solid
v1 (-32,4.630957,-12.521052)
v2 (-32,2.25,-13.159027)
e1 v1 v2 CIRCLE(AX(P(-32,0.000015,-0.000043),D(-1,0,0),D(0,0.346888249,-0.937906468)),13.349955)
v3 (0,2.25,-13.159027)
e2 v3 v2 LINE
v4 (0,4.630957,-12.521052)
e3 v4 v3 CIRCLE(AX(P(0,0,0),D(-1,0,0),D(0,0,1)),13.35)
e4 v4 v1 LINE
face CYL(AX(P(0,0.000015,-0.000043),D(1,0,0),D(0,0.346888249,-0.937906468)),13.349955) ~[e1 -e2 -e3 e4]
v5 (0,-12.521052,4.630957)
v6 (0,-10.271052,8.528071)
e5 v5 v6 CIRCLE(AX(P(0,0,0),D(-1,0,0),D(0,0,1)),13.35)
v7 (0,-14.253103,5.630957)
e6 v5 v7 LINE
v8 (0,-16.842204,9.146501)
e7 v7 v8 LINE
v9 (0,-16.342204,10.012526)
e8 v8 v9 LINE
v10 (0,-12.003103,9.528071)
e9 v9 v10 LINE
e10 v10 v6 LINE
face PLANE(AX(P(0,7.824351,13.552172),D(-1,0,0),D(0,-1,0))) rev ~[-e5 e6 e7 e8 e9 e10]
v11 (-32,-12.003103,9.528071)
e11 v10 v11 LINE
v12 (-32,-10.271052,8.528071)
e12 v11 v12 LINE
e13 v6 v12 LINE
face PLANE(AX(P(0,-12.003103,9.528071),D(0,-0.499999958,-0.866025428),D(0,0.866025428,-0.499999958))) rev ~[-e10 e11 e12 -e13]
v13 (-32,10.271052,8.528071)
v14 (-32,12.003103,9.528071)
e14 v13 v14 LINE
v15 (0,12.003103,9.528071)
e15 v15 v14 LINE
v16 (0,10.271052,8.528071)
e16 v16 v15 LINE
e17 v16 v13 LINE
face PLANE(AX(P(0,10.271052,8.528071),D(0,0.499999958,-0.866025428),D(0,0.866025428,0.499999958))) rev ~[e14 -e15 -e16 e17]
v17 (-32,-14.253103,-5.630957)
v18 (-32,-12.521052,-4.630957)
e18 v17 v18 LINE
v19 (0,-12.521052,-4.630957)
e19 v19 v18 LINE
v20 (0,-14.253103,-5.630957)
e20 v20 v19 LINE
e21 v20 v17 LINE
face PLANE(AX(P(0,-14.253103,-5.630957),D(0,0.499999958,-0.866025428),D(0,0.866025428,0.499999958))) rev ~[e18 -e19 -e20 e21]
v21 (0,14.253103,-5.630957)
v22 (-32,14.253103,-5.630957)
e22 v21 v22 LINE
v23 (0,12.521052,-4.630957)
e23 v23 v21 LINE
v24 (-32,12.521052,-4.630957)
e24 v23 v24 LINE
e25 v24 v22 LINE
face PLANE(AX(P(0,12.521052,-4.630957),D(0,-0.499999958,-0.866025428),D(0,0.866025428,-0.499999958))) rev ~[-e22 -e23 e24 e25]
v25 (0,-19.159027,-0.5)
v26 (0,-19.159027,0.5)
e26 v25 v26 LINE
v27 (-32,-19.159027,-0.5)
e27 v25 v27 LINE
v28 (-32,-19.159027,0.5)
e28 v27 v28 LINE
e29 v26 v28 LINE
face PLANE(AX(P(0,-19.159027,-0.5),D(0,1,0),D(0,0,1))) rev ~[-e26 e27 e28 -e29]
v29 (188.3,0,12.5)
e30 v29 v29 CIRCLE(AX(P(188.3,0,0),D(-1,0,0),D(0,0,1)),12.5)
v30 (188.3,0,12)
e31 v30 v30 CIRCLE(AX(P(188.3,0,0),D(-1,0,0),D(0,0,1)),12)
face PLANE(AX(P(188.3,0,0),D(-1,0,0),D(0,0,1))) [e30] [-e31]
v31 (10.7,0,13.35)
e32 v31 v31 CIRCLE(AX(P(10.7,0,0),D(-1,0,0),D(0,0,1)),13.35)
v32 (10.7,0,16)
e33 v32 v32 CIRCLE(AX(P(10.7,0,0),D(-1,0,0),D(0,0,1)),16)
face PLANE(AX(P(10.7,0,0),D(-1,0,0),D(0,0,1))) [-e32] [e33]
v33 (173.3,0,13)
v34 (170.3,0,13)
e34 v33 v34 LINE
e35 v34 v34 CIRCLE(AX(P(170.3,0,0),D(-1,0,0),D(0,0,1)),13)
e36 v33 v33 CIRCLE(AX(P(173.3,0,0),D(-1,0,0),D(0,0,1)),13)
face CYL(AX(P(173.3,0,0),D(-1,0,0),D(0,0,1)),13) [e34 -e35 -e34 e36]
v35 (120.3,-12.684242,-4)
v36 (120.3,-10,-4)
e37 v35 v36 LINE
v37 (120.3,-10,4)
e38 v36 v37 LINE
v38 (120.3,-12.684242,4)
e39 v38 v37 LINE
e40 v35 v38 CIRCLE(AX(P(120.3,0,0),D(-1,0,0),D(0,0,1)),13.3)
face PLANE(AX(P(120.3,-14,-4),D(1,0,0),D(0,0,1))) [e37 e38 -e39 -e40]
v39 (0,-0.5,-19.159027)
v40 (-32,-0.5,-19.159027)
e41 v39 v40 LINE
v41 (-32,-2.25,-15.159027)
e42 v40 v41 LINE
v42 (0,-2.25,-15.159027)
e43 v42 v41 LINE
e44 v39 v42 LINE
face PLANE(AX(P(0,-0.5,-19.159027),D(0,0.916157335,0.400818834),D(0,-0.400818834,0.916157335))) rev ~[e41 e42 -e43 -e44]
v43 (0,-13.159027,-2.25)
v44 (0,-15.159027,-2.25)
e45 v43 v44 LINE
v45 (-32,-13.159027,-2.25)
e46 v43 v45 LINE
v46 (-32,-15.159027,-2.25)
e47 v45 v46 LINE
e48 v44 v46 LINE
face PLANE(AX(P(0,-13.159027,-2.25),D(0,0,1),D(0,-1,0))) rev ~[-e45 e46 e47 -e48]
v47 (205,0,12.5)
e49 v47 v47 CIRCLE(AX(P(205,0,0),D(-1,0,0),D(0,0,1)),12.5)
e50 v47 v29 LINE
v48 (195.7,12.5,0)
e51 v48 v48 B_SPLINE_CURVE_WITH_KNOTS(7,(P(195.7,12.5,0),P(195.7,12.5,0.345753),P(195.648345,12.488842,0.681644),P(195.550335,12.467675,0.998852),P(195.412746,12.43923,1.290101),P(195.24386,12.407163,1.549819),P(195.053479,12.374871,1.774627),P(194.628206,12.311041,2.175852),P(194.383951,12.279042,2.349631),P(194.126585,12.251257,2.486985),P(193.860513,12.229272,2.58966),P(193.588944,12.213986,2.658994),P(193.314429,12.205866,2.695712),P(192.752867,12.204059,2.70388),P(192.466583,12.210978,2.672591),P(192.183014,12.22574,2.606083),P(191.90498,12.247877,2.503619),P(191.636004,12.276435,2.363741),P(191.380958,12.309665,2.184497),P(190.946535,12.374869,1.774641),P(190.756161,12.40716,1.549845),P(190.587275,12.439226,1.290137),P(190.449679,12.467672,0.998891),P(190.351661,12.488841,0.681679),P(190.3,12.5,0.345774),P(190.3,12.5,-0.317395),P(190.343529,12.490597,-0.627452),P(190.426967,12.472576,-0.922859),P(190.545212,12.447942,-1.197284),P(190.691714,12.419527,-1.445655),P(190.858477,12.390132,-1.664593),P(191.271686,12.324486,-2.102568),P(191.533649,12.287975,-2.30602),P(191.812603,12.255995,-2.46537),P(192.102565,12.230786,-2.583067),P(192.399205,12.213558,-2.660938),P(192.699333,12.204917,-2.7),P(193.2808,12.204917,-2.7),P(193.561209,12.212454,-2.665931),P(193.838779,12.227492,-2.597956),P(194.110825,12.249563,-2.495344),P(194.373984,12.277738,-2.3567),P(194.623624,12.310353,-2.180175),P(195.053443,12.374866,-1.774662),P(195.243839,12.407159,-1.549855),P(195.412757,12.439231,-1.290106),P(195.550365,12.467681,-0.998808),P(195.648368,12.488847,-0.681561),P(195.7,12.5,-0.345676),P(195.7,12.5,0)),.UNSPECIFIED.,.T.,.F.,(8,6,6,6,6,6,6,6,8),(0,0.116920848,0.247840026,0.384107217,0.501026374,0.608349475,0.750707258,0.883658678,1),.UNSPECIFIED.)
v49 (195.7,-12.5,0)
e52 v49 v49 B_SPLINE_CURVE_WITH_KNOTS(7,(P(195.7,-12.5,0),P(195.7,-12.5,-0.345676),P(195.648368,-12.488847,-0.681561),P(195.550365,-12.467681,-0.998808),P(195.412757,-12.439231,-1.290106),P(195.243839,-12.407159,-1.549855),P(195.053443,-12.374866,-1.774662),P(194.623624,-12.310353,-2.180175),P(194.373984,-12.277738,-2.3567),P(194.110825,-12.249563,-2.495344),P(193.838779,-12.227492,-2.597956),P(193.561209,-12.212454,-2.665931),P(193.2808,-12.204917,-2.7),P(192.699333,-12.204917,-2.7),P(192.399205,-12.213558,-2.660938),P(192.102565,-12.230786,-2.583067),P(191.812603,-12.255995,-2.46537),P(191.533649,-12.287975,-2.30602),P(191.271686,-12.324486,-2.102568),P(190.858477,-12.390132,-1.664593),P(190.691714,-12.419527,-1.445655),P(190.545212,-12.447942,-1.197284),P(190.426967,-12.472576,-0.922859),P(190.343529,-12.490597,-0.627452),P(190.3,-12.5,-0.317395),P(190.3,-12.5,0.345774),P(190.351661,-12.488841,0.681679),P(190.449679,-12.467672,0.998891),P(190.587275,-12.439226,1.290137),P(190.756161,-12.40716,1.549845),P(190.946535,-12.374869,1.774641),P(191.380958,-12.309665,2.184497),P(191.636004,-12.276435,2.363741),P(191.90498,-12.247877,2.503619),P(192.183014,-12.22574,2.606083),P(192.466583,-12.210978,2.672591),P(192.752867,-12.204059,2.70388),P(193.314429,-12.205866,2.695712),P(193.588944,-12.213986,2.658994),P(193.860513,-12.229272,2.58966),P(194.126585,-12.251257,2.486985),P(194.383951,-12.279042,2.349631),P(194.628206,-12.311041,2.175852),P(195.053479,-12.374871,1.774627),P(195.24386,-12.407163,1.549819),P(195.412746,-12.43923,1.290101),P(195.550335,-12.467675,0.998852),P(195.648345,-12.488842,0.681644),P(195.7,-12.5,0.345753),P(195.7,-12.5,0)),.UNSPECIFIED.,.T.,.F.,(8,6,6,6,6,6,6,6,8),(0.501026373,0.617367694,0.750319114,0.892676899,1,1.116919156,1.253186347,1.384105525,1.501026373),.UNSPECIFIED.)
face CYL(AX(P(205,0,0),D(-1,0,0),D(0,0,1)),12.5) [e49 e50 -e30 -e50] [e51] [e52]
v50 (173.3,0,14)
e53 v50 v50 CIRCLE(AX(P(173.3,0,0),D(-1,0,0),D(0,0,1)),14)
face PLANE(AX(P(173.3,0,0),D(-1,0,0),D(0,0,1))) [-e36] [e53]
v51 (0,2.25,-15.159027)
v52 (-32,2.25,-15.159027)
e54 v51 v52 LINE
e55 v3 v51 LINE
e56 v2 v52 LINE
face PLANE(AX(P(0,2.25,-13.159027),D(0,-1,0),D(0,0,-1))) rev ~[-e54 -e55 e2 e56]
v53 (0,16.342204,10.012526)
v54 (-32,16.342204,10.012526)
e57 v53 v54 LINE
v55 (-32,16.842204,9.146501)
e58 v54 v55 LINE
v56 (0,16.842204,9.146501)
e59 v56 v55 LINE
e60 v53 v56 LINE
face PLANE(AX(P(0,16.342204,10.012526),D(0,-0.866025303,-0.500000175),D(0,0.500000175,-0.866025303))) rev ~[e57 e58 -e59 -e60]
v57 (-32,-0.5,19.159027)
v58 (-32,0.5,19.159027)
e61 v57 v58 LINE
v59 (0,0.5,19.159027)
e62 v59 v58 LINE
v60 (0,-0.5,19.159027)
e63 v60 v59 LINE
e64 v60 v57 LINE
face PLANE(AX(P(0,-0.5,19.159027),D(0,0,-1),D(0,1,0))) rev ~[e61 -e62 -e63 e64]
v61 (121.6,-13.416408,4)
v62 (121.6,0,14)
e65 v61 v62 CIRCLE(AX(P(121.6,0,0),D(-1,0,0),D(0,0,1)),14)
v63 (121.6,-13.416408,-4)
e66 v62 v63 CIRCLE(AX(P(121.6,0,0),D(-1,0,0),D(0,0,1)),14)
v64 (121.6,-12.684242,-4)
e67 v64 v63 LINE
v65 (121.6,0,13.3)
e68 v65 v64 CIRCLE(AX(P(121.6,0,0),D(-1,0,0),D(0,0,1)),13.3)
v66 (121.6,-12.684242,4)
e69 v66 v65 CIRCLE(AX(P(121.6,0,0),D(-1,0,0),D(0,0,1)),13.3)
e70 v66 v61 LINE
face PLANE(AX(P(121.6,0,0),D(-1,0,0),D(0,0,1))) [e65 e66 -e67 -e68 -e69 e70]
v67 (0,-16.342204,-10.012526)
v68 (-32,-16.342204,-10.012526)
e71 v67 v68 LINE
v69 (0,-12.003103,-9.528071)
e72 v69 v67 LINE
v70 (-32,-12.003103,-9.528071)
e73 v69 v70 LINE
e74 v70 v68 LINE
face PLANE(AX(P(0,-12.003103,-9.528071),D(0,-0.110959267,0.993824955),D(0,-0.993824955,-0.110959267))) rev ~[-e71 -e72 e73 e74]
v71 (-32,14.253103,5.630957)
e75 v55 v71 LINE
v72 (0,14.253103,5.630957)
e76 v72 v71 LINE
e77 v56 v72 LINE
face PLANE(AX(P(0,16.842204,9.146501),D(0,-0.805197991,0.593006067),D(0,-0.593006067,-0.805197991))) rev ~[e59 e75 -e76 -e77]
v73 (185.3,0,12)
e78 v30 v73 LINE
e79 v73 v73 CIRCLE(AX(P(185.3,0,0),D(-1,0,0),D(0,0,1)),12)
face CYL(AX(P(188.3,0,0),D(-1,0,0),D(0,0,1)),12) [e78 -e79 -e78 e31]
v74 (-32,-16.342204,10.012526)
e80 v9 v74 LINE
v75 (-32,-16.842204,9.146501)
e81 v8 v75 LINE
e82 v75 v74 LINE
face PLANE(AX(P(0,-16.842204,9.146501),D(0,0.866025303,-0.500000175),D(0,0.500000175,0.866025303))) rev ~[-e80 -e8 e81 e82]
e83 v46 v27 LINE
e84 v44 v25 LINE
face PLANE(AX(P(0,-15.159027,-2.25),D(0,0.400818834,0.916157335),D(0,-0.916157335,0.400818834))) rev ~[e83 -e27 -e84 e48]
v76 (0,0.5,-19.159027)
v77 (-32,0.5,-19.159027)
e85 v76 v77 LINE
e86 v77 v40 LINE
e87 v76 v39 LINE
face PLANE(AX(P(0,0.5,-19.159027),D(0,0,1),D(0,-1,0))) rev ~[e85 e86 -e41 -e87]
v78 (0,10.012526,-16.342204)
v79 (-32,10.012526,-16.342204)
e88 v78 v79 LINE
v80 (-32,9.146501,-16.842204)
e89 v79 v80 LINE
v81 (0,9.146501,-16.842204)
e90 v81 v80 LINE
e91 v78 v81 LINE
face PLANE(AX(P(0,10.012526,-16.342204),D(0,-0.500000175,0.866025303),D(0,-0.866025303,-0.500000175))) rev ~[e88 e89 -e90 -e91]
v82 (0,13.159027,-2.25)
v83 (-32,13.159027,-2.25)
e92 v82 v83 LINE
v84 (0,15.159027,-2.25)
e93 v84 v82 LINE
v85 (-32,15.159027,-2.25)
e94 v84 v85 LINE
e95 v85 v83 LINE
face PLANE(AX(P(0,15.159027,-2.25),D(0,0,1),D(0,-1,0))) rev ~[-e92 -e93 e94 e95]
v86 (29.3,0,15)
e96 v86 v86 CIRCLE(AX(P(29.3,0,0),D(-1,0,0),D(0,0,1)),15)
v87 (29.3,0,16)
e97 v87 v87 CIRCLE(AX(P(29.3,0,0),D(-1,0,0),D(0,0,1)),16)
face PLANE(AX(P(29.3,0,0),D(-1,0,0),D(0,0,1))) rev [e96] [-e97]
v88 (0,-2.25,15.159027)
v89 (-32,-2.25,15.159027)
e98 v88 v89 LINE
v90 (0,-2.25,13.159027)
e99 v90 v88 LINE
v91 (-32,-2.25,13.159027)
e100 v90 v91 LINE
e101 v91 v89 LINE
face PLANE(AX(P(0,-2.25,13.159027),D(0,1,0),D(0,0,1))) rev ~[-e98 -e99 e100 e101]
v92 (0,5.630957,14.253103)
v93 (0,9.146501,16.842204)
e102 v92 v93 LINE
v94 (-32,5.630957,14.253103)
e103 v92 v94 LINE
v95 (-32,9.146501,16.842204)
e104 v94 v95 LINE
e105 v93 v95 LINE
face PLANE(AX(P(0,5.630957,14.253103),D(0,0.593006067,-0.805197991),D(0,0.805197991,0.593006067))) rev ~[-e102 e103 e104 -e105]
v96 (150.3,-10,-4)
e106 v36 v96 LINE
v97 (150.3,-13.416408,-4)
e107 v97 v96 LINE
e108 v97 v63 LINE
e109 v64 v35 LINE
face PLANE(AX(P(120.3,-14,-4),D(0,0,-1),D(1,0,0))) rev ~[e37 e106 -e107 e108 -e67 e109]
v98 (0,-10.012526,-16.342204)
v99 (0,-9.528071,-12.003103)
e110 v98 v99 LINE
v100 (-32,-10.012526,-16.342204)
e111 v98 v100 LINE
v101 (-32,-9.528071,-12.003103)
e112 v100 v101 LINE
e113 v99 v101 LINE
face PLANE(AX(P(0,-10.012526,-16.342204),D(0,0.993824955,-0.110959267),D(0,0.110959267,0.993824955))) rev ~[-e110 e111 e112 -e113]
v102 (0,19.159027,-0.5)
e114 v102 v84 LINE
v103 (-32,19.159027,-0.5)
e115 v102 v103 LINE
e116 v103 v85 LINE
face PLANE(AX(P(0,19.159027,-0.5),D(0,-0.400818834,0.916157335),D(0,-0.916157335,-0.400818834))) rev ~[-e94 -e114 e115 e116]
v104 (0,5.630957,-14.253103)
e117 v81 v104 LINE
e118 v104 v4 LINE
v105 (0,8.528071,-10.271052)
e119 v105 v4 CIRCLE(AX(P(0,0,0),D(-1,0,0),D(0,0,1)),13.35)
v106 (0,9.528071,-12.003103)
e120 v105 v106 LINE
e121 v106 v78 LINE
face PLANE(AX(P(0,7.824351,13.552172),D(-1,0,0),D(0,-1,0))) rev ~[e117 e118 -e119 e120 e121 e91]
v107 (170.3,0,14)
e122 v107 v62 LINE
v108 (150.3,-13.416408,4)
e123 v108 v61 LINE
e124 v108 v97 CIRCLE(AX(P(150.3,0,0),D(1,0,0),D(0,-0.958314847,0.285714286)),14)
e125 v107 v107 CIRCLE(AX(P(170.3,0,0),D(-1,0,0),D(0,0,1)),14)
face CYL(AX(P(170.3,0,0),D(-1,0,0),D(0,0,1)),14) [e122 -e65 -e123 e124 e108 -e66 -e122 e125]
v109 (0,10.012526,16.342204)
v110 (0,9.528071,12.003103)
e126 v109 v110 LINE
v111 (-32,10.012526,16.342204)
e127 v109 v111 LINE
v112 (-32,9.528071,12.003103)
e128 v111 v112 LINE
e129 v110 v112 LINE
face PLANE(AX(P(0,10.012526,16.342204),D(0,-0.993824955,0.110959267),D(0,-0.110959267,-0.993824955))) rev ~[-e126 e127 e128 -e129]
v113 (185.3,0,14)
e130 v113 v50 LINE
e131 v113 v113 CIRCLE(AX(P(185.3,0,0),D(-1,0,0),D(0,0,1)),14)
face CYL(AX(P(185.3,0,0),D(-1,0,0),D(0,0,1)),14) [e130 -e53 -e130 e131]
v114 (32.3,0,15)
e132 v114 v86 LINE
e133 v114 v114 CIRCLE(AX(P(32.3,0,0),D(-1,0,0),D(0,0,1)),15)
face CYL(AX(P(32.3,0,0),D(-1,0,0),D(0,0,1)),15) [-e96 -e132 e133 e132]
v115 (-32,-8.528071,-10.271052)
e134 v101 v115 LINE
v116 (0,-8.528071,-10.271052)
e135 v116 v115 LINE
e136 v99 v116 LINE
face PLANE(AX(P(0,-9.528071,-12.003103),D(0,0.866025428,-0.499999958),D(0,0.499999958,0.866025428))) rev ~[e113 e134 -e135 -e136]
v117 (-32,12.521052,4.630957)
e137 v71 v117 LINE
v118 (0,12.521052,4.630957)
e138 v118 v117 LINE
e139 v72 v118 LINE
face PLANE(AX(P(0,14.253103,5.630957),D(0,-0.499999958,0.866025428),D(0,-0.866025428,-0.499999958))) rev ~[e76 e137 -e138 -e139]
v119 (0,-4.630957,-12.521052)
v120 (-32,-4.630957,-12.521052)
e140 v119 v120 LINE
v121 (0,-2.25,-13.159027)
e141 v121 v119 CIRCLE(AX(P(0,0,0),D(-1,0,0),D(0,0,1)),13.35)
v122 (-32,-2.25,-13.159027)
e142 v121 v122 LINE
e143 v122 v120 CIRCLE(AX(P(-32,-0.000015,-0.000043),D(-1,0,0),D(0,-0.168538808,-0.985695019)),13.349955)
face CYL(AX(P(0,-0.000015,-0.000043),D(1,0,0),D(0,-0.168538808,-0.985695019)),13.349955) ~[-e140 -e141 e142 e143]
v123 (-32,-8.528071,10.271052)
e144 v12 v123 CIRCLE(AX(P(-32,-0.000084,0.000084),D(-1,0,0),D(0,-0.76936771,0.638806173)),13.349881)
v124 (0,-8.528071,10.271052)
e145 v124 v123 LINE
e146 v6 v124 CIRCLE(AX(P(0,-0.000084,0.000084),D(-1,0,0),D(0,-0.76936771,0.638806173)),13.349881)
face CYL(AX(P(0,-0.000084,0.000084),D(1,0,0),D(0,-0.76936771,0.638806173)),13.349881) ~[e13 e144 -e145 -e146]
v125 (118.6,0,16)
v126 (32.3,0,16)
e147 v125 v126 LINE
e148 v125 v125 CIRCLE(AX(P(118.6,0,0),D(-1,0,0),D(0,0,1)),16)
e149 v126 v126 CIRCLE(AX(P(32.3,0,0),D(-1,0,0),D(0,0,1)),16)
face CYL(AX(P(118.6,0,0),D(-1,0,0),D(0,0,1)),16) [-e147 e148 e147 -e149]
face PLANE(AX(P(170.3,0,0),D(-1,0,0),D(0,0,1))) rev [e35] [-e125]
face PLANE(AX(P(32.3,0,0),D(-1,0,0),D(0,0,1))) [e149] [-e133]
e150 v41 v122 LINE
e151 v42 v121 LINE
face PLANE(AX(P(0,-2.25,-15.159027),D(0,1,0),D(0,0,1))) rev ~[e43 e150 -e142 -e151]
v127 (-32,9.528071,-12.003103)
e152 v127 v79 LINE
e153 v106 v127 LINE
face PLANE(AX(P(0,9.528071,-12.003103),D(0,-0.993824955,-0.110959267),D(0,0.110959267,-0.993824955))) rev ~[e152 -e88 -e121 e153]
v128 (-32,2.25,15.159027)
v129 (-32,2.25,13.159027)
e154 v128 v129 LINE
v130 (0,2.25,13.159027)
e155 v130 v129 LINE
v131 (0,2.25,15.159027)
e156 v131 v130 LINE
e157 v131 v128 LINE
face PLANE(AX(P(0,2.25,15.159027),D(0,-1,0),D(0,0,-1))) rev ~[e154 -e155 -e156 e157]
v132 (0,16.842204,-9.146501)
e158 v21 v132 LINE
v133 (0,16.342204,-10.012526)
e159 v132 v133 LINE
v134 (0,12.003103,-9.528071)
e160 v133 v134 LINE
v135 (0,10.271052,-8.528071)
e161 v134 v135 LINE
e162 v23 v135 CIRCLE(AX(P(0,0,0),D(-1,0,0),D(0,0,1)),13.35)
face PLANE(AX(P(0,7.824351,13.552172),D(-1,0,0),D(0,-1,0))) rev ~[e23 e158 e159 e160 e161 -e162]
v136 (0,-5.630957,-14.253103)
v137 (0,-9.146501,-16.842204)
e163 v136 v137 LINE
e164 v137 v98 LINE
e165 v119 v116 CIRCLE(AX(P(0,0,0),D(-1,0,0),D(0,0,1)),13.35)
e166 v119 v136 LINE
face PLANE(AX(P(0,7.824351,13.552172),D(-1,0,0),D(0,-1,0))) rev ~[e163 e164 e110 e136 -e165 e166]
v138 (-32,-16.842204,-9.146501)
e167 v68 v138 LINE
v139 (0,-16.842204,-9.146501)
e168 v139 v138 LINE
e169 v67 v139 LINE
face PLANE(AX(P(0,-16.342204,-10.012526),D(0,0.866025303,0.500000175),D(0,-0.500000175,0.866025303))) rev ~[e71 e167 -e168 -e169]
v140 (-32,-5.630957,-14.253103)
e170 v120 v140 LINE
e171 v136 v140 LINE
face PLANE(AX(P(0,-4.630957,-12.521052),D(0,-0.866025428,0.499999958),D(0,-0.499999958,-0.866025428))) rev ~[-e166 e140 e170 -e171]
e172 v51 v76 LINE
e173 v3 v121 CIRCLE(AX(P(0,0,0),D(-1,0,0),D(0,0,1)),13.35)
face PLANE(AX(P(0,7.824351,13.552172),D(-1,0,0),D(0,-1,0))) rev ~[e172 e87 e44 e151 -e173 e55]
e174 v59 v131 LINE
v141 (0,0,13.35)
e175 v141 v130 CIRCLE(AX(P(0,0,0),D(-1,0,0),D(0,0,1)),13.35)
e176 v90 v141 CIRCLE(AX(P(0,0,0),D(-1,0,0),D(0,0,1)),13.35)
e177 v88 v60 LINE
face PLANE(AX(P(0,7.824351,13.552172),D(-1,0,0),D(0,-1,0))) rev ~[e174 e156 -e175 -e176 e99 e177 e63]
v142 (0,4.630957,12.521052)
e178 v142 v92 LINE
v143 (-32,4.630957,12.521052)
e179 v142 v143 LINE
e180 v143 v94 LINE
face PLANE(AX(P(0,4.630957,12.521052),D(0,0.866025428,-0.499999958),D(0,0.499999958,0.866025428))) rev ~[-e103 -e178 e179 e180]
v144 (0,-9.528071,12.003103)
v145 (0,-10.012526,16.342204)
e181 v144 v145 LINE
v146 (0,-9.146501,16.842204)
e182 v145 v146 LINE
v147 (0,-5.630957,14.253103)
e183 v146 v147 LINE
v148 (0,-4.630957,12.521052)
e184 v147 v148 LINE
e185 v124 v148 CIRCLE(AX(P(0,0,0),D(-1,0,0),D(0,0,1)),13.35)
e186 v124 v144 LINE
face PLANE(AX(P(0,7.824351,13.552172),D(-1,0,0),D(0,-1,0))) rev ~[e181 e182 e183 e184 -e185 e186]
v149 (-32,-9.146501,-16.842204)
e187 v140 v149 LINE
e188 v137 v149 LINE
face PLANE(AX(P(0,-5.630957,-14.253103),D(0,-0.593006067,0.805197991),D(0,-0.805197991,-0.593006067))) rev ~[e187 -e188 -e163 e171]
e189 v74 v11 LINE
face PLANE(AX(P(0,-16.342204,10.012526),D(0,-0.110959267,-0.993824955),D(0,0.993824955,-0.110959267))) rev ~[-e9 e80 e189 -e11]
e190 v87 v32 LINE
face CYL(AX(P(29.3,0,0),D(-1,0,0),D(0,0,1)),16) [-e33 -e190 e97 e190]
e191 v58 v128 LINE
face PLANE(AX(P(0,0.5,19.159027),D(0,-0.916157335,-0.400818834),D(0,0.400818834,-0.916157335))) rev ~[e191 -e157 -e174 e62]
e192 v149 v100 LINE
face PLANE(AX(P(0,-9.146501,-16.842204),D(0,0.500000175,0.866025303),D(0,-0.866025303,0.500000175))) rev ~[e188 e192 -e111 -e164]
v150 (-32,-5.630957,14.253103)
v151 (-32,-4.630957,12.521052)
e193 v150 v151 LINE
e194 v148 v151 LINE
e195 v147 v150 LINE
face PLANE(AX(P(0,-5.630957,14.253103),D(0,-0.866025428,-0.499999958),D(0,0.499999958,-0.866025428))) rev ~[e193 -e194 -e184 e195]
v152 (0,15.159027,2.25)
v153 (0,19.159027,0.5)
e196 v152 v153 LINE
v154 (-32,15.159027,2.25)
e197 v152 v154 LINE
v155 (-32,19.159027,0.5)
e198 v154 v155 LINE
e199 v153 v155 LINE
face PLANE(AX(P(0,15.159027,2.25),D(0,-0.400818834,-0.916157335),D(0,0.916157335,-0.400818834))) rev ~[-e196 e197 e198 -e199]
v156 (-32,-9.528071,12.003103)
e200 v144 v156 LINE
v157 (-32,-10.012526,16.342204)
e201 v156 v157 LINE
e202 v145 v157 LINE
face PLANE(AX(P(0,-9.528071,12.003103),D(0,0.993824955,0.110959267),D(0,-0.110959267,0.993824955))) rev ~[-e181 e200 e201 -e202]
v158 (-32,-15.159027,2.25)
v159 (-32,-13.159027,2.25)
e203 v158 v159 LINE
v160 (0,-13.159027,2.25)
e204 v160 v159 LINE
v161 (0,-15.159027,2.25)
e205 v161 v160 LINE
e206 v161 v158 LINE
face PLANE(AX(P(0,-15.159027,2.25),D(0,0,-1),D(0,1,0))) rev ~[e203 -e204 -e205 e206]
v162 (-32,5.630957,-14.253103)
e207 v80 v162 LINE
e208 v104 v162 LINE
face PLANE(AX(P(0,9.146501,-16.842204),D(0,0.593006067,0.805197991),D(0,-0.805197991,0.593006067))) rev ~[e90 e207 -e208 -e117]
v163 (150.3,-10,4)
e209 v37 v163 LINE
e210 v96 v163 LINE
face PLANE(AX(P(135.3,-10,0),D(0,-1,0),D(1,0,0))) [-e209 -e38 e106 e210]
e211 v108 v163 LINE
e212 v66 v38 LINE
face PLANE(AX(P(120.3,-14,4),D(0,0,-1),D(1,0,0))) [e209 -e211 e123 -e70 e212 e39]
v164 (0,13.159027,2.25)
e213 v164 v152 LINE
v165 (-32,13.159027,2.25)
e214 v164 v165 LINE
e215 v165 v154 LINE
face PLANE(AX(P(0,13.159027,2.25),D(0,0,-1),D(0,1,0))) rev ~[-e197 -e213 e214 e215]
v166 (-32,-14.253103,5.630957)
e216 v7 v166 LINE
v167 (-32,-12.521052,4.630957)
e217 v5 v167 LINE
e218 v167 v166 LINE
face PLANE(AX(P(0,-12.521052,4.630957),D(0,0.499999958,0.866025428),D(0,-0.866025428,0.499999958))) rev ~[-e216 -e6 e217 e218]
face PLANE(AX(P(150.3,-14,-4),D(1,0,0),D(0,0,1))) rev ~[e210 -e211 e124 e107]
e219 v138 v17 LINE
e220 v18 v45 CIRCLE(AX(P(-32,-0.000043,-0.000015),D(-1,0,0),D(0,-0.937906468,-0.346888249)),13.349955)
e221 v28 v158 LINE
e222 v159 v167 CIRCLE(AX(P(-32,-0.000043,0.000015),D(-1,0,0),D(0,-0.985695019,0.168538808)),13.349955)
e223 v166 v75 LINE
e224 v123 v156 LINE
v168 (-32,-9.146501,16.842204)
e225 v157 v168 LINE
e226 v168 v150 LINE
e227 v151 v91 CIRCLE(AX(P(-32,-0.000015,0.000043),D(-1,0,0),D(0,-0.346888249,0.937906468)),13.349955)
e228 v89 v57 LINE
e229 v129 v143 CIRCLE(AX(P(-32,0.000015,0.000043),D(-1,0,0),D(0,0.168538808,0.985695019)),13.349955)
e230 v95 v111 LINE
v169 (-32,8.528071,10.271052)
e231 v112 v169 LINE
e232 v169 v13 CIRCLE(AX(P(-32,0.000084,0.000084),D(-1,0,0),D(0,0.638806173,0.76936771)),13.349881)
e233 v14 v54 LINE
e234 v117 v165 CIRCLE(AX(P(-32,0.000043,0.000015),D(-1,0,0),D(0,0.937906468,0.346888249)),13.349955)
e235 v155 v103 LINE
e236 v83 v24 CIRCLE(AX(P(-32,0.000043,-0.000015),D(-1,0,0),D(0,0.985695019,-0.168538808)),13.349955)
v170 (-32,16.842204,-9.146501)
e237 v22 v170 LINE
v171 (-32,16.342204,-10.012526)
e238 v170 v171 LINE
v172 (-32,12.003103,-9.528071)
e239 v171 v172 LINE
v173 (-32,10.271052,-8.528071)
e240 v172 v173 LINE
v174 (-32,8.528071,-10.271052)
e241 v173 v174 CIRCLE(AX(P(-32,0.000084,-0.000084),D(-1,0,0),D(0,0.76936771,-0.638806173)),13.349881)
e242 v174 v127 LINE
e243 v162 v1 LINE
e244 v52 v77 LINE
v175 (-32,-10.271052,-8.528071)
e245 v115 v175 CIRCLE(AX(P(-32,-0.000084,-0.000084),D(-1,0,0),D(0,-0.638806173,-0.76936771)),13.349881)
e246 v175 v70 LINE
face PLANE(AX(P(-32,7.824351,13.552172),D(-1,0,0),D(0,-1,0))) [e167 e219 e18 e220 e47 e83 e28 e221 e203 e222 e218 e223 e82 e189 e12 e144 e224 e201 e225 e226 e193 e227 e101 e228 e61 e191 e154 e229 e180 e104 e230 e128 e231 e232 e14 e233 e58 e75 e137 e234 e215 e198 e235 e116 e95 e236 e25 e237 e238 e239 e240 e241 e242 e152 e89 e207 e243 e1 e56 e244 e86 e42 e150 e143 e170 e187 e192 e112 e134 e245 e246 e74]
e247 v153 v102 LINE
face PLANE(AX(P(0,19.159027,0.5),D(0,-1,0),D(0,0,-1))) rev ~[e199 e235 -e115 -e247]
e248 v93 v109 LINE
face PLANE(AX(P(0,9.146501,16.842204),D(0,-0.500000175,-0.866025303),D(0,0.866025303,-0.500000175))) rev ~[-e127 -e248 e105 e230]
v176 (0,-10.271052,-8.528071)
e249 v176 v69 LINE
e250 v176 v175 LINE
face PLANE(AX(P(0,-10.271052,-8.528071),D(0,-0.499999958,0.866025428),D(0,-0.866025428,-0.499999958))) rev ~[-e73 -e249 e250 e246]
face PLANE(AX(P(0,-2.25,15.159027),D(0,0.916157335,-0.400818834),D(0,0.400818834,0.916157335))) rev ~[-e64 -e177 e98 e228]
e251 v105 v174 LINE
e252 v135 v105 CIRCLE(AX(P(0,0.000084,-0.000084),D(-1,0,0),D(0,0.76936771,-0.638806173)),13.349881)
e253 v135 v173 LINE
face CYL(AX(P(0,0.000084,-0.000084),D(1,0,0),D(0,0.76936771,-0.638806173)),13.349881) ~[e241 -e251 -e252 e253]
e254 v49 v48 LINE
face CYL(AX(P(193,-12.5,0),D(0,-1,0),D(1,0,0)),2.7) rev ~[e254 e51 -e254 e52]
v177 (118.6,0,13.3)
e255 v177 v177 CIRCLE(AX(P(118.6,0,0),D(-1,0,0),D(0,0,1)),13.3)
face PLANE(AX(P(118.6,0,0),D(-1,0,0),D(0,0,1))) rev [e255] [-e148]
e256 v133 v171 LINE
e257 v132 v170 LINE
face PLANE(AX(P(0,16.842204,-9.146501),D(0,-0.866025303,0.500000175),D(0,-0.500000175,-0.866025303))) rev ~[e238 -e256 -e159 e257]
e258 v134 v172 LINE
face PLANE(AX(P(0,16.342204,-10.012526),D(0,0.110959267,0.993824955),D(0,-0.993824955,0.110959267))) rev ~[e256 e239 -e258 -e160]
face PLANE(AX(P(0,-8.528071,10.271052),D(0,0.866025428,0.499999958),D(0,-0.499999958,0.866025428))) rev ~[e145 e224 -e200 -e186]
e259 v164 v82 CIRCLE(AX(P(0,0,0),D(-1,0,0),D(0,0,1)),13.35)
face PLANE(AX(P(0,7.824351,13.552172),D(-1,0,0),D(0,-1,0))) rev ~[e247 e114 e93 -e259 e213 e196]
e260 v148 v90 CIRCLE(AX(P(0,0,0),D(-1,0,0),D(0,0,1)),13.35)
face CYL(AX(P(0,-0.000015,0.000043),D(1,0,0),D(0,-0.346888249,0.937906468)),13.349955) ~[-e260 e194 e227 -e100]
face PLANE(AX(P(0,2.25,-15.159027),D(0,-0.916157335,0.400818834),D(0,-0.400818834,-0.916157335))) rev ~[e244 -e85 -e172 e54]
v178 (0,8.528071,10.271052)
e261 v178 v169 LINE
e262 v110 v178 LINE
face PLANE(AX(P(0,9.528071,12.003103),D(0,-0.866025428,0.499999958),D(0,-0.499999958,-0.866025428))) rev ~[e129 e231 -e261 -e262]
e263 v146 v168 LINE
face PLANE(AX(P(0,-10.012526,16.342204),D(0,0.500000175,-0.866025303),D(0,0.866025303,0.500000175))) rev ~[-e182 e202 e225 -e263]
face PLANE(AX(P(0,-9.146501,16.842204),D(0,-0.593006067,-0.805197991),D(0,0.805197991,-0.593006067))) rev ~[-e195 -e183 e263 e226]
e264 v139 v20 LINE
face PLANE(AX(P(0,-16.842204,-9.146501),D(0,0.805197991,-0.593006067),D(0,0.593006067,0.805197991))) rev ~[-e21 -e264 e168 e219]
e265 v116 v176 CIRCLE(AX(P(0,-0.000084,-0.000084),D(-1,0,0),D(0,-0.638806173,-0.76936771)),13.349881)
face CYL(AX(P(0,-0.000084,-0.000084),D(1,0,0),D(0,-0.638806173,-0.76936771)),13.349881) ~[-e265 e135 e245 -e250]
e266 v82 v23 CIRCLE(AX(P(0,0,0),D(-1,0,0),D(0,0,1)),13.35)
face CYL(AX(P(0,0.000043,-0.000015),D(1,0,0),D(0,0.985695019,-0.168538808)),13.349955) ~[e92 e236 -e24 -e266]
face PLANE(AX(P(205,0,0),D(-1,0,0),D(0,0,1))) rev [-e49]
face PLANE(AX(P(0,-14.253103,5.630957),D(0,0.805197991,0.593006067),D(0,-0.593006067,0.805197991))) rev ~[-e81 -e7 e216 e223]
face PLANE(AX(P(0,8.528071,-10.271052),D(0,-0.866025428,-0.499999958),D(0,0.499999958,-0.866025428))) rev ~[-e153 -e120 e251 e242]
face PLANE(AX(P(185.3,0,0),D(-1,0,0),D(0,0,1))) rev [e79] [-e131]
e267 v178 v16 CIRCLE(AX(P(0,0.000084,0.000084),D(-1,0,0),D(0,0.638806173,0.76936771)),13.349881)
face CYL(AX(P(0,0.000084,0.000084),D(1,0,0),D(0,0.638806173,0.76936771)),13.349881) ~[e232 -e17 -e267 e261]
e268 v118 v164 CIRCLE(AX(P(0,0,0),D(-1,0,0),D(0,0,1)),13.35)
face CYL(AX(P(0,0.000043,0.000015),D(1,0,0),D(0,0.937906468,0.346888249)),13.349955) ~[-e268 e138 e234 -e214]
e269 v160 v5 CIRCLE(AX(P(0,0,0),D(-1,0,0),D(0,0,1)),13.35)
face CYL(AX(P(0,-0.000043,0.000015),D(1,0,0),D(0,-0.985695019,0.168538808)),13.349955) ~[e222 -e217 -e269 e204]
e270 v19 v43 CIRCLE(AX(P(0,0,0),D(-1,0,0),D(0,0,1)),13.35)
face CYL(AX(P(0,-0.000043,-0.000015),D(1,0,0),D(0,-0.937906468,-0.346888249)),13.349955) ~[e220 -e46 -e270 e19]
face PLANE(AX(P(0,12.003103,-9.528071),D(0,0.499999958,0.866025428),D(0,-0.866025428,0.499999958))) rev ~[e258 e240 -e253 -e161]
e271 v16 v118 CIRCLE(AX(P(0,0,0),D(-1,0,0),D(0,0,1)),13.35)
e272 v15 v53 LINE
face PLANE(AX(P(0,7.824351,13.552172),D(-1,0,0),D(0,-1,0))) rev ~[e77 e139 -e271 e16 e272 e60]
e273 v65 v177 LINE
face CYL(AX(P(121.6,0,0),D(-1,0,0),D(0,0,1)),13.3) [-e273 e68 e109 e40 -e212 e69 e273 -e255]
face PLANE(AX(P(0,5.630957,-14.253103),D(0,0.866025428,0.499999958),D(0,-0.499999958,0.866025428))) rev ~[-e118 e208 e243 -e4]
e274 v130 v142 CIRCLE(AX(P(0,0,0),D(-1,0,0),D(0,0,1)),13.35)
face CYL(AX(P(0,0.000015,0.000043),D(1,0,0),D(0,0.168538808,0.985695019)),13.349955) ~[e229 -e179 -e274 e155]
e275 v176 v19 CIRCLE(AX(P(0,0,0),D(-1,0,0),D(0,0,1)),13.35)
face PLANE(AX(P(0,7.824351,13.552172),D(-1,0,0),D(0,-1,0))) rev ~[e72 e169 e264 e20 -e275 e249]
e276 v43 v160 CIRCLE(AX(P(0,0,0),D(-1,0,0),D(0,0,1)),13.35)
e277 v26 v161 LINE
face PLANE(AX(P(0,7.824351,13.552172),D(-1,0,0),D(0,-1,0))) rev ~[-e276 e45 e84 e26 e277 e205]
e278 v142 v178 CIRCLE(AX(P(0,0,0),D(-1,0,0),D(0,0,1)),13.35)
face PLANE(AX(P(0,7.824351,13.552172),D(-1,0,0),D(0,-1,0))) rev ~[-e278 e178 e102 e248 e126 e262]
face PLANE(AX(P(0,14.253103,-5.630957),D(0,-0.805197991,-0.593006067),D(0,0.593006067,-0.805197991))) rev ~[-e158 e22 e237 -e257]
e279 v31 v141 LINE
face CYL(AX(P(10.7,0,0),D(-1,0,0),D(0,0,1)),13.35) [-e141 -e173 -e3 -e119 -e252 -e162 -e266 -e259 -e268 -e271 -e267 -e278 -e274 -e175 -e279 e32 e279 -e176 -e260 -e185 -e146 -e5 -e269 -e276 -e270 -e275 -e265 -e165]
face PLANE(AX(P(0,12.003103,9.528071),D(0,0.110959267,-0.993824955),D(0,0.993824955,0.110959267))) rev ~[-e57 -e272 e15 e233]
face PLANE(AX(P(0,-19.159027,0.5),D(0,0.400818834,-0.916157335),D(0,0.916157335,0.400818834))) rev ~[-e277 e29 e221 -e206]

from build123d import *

# Parameters (mm, degrees)
F3_DEPTH = 32
F7_W     = 30
F7_H     = 8
F8_DEPTH = 4
F5_R     = 2.7
F9_DEPTH = 25


with BuildPart() as f1:
    # F0 (on Front) → F1 (revolve)
    with BuildSketch(Plane.XZ):
        Polygon((29.3, 16), (10.7, 16), (10.7, 13.35), (0, 13.35), (0, 0), (205, 0), (205, 12.5), (188.3, 12.5), (188.3, 12), (185.3, 12), (185.3, 14), (173.3, 14), (173.3, 13), (170.3, 13), (170.3, 14), (121.6, 14), (121.6, 13.3), (118.6, 13.3), (118.6, 16), (32.3, 16), (32.3, 15), (29.3, 15), align=None)
    revolve(axis=Axis((102.5, 0, 0), (-1, 0, 0)))

    # F2 (on face) → F3 (join)
    with BuildSketch(Plane(origin=(0, 0, 0), x_dir=(0, -1, 0), z_dir=(-1, 0, 0))):
        with BuildLine():
            ThreePointArc((-8.528071, 10.271052), (-6.675, 11.561439), (-4.630957, 12.521052))
            Line((-4.630957, 12.521052), (-5.630957, 14.253103))
            Line((-5.630957, 14.253103), (-9.146501, 16.842204))
            Line((-9.146501, 16.842204), (-10.012526, 16.342204))
            Line((-10.012526, 16.342204), (-9.528071, 12.003103))
            Line((-9.528071, 12.003103), (-8.528071, 10.271052))
        make_face()
        with BuildLine():
            Line((-2.25, 15.159027), (-2.25, 13.159027))
            ThreePointArc((-2.25, 13.159027), (0, 13.35), (2.25, 13.159027))
            Line((2.25, 13.159027), (2.25, 15.159027))
            Line((2.25, 15.159027), (0.5, 19.159027))
            Line((0.5, 19.159027), (-0.5, 19.159027))
            Line((-0.5, 19.159027), (-2.25, 15.159027))
        make_face()
        with BuildLine():
            Line((5.630957, 14.253103), (4.630957, 12.521052))
            ThreePointArc((4.630957, 12.521052), (6.675, 11.561439), (8.528071, 10.271052))
            Line((8.528071, 10.271052), (9.528071, 12.003103))
            Line((9.528071, 12.003103), (10.012526, 16.342204))
            Line((10.012526, 16.342204), (9.146501, 16.842204))
            Line((9.146501, 16.842204), (5.630957, 14.253103))
        make_face()
        with BuildLine():
            Line((12.003103, 9.528071), (10.271052, 8.528071))
            ThreePointArc((10.271052, 8.528071), (11.561439, 6.675), (12.521052, 4.630957))
            Line((12.521052, 4.630957), (14.253103, 5.630957))
            Line((14.253103, 5.630957), (16.842204, 9.146501))
            Line((16.842204, 9.146501), (16.342204, 10.012526))
            Line((16.342204, 10.012526), (12.003103, 9.528071))
        make_face()
        with BuildLine():
            Line((15.159027, 2.25), (13.159027, 2.25))
            ThreePointArc((13.159027, 2.25), (13.302171, 1.129045), (13.35, 0))
            ThreePointArc((13.35, 0), (13.302171, -1.129045), (13.159027, -2.25))
            Line((13.159027, -2.25), (15.159027, -2.25))
            Line((15.159027, -2.25), (19.159027, -0.5))
            Line((19.159027, -0.5), (19.159027, 0.5))
            Line((19.159027, 0.5), (15.159027, 2.25))
        make_face()
        with BuildLine():
            Line((14.253103, -5.630957), (12.521052, -4.630957))
            ThreePointArc((12.521052, -4.630957), (11.561439, -6.675), (10.271052, -8.528071))
            Line((10.271052, -8.528071), (12.003103, -9.528071))
            Line((12.003103, -9.528071), (16.342204, -10.012526))
            Line((16.342204, -10.012526), (16.842204, -9.146501))
            Line((16.842204, -9.146501), (14.253103, -5.630957))
        make_face()
        with BuildLine():
            Line((9.528071, -12.003103), (8.528071, -10.271052))
            ThreePointArc((8.528071, -10.271052), (6.675, -11.561439), (4.630957, -12.521052))
            Line((4.630957, -12.521052), (5.630957, -14.253103))
            Line((5.630957, -14.253103), (9.146501, -16.842204))
            Line((9.146501, -16.842204), (10.012526, -16.342204))
            Line((10.012526, -16.342204), (9.528071, -12.003103))
        make_face()
        with BuildLine():
            ThreePointArc((2.25, -13.159027), (0, -13.35), (-2.25, -13.159027))
            Line((-2.25, -13.159027), (-2.25, -15.159027))
            Line((-2.25, -15.159027), (-0.5, -19.159027))
            Line((-0.5, -19.159027), (0.5, -19.159027))
            Line((0.5, -19.159027), (2.25, -15.159027))
            Line((2.25, -15.159027), (2.25, -13.159027))
        make_face()
        with BuildLine():
            ThreePointArc((-4.630957, -12.521052), (-6.675, -11.561439), (-8.528071, -10.271052))
            Line((-8.528071, -10.271052), (-9.528071, -12.003103))
            Line((-9.528071, -12.003103), (-10.012526, -16.342204))
            Line((-10.012526, -16.342204), (-9.146501, -16.842204))
            Line((-9.146501, -16.842204), (-5.630957, -14.253103))
            Line((-5.630957, -14.253103), (-4.630957, -12.521052))
        make_face()
        with BuildLine():
            ThreePointArc((-10.271052, -8.528071), (-11.561439, -6.675), (-12.521052, -4.630957))
            Line((-12.521052, -4.630957), (-14.253103, -5.630957))
            Line((-14.253103, -5.630957), (-16.842204, -9.146501))
            Line((-16.842204, -9.146501), (-16.342204, -10.012526))
            Line((-16.342204, -10.012526), (-12.003103, -9.528071))
            Line((-12.003103, -9.528071), (-10.271052, -8.528071))
        make_face()
        with BuildLine():
            ThreePointArc((-13.159027, -2.25), (-13.35, 0), (-13.159027, 2.25))
            Line((-13.159027, 2.25), (-15.159027, 2.25))
            Line((-15.159027, 2.25), (-19.159027, 0.5))
            Line((-19.159027, 0.5), (-19.159027, -0.5))
            Line((-19.159027, -0.5), (-15.159027, -2.25))
            Line((-15.159027, -2.25), (-13.159027, -2.25))
        make_face()
        with BuildLine():
            ThreePointArc((-12.521052, 4.630957), (-11.561439, 6.675), (-10.271052, 8.528071))
            Line((-10.271052, 8.528071), (-12.003103, 9.528071))
            Line((-12.003103, 9.528071), (-16.342204, 10.012526))
            Line((-16.342204, 10.012526), (-16.842204, 9.146501))
            Line((-16.842204, 9.146501), (-14.253103, 5.630957))
            Line((-14.253103, 5.630957), (-12.521052, 4.630957))
        make_face()
        with BuildLine():
            ThreePointArc((2.25, 13.159027), (0, 13.35), (-2.25, 13.159027))
            ThreePointArc((-2.25, 13.159027), (-3.455234, 12.89511), (-4.630957, 12.521052))
            ThreePointArc((-4.630957, 12.521052), (-6.675, 11.561439), (-8.528071, 10.271052))
            ThreePointArc((-8.528071, 10.271052), (-9.439876, 9.439876), (-10.271052, 8.528071))
            ThreePointArc((-10.271052, 8.528071), (-11.561439, 6.675), (-12.521052, 4.630957))
            ThreePointArc((-12.521052, 4.630957), (-12.89511, 3.455234), (-13.159027, 2.25))
            ThreePointArc((-13.159027, 2.25), (-13.35, 0), (-13.159027, -2.25))
            ThreePointArc((-13.159027, -2.25), (-12.89511, -3.455234), (-12.521052, -4.630957))
            ThreePointArc((-12.521052, -4.630957), (-11.561439, -6.675), (-10.271052, -8.528071))
            ThreePointArc((-10.271052, -8.528071), (-9.439876, -9.439876), (-8.528071, -10.271052))
            ThreePointArc((-8.528071, -10.271052), (-6.675, -11.561439), (-4.630957, -12.521052))
            ThreePointArc((-4.630957, -12.521052), (-3.455234, -12.89511), (-2.25, -13.159027))
            ThreePointArc((-2.25, -13.159027), (0, -13.35), (2.25, -13.159027))
            ThreePointArc((2.25, -13.159027), (3.455234, -12.89511), (4.630957, -12.521052))
            ThreePointArc((4.630957, -12.521052), (6.675, -11.561439), (8.528071, -10.271052))
            ThreePointArc((8.528071, -10.271052), (9.439876, -9.439876), (10.271052, -8.528071))
            ThreePointArc((10.271052, -8.528071), (11.561439, -6.675), (12.521052, -4.630957))
            ThreePointArc((12.521052, -4.630957), (12.89511, -3.455234), (13.159027, -2.25))
            ThreePointArc((13.159027, -2.25), (13.302171, -1.129045), (13.35, 0))
            ThreePointArc((13.35, 0), (13.302171, 1.129045), (13.159027, 2.25))
            ThreePointArc((13.159027, 2.25), (12.89511, 3.455234), (12.521052, 4.630957))
            ThreePointArc((12.521052, 4.630957), (11.561439, 6.675), (10.271052, 8.528071))
            ThreePointArc((10.271052, 8.528071), (9.439876, 9.439876), (8.528071, 10.271052))
            ThreePointArc((8.528071, 10.271052), (6.675, 11.561439), (4.630957, 12.521052))
            ThreePointArc((4.630957, 12.521052), (3.455234, 12.89511), (2.25, 13.159027))
        make_face()
    extrude(amount=F3_DEPTH)

    # F7 (on offset) → F8 (cut)
    with BuildSketch(Plane.XZ.offset(14)):
        with Locations((135.3, 0)):
            Rectangle(F7_W, F7_H)
    extrude(amount=-F8_DEPTH, mode=Mode.SUBTRACT)

    # F5 (on offset) → F9 (cut)
    with BuildSketch(Plane.XZ.offset(12.5)):
        with Locations((193, 0)):
            Circle(F5_R)
    extrude(amount=-F9_DEPTH, mode=Mode.SUBTRACT)


solid = f1.part
